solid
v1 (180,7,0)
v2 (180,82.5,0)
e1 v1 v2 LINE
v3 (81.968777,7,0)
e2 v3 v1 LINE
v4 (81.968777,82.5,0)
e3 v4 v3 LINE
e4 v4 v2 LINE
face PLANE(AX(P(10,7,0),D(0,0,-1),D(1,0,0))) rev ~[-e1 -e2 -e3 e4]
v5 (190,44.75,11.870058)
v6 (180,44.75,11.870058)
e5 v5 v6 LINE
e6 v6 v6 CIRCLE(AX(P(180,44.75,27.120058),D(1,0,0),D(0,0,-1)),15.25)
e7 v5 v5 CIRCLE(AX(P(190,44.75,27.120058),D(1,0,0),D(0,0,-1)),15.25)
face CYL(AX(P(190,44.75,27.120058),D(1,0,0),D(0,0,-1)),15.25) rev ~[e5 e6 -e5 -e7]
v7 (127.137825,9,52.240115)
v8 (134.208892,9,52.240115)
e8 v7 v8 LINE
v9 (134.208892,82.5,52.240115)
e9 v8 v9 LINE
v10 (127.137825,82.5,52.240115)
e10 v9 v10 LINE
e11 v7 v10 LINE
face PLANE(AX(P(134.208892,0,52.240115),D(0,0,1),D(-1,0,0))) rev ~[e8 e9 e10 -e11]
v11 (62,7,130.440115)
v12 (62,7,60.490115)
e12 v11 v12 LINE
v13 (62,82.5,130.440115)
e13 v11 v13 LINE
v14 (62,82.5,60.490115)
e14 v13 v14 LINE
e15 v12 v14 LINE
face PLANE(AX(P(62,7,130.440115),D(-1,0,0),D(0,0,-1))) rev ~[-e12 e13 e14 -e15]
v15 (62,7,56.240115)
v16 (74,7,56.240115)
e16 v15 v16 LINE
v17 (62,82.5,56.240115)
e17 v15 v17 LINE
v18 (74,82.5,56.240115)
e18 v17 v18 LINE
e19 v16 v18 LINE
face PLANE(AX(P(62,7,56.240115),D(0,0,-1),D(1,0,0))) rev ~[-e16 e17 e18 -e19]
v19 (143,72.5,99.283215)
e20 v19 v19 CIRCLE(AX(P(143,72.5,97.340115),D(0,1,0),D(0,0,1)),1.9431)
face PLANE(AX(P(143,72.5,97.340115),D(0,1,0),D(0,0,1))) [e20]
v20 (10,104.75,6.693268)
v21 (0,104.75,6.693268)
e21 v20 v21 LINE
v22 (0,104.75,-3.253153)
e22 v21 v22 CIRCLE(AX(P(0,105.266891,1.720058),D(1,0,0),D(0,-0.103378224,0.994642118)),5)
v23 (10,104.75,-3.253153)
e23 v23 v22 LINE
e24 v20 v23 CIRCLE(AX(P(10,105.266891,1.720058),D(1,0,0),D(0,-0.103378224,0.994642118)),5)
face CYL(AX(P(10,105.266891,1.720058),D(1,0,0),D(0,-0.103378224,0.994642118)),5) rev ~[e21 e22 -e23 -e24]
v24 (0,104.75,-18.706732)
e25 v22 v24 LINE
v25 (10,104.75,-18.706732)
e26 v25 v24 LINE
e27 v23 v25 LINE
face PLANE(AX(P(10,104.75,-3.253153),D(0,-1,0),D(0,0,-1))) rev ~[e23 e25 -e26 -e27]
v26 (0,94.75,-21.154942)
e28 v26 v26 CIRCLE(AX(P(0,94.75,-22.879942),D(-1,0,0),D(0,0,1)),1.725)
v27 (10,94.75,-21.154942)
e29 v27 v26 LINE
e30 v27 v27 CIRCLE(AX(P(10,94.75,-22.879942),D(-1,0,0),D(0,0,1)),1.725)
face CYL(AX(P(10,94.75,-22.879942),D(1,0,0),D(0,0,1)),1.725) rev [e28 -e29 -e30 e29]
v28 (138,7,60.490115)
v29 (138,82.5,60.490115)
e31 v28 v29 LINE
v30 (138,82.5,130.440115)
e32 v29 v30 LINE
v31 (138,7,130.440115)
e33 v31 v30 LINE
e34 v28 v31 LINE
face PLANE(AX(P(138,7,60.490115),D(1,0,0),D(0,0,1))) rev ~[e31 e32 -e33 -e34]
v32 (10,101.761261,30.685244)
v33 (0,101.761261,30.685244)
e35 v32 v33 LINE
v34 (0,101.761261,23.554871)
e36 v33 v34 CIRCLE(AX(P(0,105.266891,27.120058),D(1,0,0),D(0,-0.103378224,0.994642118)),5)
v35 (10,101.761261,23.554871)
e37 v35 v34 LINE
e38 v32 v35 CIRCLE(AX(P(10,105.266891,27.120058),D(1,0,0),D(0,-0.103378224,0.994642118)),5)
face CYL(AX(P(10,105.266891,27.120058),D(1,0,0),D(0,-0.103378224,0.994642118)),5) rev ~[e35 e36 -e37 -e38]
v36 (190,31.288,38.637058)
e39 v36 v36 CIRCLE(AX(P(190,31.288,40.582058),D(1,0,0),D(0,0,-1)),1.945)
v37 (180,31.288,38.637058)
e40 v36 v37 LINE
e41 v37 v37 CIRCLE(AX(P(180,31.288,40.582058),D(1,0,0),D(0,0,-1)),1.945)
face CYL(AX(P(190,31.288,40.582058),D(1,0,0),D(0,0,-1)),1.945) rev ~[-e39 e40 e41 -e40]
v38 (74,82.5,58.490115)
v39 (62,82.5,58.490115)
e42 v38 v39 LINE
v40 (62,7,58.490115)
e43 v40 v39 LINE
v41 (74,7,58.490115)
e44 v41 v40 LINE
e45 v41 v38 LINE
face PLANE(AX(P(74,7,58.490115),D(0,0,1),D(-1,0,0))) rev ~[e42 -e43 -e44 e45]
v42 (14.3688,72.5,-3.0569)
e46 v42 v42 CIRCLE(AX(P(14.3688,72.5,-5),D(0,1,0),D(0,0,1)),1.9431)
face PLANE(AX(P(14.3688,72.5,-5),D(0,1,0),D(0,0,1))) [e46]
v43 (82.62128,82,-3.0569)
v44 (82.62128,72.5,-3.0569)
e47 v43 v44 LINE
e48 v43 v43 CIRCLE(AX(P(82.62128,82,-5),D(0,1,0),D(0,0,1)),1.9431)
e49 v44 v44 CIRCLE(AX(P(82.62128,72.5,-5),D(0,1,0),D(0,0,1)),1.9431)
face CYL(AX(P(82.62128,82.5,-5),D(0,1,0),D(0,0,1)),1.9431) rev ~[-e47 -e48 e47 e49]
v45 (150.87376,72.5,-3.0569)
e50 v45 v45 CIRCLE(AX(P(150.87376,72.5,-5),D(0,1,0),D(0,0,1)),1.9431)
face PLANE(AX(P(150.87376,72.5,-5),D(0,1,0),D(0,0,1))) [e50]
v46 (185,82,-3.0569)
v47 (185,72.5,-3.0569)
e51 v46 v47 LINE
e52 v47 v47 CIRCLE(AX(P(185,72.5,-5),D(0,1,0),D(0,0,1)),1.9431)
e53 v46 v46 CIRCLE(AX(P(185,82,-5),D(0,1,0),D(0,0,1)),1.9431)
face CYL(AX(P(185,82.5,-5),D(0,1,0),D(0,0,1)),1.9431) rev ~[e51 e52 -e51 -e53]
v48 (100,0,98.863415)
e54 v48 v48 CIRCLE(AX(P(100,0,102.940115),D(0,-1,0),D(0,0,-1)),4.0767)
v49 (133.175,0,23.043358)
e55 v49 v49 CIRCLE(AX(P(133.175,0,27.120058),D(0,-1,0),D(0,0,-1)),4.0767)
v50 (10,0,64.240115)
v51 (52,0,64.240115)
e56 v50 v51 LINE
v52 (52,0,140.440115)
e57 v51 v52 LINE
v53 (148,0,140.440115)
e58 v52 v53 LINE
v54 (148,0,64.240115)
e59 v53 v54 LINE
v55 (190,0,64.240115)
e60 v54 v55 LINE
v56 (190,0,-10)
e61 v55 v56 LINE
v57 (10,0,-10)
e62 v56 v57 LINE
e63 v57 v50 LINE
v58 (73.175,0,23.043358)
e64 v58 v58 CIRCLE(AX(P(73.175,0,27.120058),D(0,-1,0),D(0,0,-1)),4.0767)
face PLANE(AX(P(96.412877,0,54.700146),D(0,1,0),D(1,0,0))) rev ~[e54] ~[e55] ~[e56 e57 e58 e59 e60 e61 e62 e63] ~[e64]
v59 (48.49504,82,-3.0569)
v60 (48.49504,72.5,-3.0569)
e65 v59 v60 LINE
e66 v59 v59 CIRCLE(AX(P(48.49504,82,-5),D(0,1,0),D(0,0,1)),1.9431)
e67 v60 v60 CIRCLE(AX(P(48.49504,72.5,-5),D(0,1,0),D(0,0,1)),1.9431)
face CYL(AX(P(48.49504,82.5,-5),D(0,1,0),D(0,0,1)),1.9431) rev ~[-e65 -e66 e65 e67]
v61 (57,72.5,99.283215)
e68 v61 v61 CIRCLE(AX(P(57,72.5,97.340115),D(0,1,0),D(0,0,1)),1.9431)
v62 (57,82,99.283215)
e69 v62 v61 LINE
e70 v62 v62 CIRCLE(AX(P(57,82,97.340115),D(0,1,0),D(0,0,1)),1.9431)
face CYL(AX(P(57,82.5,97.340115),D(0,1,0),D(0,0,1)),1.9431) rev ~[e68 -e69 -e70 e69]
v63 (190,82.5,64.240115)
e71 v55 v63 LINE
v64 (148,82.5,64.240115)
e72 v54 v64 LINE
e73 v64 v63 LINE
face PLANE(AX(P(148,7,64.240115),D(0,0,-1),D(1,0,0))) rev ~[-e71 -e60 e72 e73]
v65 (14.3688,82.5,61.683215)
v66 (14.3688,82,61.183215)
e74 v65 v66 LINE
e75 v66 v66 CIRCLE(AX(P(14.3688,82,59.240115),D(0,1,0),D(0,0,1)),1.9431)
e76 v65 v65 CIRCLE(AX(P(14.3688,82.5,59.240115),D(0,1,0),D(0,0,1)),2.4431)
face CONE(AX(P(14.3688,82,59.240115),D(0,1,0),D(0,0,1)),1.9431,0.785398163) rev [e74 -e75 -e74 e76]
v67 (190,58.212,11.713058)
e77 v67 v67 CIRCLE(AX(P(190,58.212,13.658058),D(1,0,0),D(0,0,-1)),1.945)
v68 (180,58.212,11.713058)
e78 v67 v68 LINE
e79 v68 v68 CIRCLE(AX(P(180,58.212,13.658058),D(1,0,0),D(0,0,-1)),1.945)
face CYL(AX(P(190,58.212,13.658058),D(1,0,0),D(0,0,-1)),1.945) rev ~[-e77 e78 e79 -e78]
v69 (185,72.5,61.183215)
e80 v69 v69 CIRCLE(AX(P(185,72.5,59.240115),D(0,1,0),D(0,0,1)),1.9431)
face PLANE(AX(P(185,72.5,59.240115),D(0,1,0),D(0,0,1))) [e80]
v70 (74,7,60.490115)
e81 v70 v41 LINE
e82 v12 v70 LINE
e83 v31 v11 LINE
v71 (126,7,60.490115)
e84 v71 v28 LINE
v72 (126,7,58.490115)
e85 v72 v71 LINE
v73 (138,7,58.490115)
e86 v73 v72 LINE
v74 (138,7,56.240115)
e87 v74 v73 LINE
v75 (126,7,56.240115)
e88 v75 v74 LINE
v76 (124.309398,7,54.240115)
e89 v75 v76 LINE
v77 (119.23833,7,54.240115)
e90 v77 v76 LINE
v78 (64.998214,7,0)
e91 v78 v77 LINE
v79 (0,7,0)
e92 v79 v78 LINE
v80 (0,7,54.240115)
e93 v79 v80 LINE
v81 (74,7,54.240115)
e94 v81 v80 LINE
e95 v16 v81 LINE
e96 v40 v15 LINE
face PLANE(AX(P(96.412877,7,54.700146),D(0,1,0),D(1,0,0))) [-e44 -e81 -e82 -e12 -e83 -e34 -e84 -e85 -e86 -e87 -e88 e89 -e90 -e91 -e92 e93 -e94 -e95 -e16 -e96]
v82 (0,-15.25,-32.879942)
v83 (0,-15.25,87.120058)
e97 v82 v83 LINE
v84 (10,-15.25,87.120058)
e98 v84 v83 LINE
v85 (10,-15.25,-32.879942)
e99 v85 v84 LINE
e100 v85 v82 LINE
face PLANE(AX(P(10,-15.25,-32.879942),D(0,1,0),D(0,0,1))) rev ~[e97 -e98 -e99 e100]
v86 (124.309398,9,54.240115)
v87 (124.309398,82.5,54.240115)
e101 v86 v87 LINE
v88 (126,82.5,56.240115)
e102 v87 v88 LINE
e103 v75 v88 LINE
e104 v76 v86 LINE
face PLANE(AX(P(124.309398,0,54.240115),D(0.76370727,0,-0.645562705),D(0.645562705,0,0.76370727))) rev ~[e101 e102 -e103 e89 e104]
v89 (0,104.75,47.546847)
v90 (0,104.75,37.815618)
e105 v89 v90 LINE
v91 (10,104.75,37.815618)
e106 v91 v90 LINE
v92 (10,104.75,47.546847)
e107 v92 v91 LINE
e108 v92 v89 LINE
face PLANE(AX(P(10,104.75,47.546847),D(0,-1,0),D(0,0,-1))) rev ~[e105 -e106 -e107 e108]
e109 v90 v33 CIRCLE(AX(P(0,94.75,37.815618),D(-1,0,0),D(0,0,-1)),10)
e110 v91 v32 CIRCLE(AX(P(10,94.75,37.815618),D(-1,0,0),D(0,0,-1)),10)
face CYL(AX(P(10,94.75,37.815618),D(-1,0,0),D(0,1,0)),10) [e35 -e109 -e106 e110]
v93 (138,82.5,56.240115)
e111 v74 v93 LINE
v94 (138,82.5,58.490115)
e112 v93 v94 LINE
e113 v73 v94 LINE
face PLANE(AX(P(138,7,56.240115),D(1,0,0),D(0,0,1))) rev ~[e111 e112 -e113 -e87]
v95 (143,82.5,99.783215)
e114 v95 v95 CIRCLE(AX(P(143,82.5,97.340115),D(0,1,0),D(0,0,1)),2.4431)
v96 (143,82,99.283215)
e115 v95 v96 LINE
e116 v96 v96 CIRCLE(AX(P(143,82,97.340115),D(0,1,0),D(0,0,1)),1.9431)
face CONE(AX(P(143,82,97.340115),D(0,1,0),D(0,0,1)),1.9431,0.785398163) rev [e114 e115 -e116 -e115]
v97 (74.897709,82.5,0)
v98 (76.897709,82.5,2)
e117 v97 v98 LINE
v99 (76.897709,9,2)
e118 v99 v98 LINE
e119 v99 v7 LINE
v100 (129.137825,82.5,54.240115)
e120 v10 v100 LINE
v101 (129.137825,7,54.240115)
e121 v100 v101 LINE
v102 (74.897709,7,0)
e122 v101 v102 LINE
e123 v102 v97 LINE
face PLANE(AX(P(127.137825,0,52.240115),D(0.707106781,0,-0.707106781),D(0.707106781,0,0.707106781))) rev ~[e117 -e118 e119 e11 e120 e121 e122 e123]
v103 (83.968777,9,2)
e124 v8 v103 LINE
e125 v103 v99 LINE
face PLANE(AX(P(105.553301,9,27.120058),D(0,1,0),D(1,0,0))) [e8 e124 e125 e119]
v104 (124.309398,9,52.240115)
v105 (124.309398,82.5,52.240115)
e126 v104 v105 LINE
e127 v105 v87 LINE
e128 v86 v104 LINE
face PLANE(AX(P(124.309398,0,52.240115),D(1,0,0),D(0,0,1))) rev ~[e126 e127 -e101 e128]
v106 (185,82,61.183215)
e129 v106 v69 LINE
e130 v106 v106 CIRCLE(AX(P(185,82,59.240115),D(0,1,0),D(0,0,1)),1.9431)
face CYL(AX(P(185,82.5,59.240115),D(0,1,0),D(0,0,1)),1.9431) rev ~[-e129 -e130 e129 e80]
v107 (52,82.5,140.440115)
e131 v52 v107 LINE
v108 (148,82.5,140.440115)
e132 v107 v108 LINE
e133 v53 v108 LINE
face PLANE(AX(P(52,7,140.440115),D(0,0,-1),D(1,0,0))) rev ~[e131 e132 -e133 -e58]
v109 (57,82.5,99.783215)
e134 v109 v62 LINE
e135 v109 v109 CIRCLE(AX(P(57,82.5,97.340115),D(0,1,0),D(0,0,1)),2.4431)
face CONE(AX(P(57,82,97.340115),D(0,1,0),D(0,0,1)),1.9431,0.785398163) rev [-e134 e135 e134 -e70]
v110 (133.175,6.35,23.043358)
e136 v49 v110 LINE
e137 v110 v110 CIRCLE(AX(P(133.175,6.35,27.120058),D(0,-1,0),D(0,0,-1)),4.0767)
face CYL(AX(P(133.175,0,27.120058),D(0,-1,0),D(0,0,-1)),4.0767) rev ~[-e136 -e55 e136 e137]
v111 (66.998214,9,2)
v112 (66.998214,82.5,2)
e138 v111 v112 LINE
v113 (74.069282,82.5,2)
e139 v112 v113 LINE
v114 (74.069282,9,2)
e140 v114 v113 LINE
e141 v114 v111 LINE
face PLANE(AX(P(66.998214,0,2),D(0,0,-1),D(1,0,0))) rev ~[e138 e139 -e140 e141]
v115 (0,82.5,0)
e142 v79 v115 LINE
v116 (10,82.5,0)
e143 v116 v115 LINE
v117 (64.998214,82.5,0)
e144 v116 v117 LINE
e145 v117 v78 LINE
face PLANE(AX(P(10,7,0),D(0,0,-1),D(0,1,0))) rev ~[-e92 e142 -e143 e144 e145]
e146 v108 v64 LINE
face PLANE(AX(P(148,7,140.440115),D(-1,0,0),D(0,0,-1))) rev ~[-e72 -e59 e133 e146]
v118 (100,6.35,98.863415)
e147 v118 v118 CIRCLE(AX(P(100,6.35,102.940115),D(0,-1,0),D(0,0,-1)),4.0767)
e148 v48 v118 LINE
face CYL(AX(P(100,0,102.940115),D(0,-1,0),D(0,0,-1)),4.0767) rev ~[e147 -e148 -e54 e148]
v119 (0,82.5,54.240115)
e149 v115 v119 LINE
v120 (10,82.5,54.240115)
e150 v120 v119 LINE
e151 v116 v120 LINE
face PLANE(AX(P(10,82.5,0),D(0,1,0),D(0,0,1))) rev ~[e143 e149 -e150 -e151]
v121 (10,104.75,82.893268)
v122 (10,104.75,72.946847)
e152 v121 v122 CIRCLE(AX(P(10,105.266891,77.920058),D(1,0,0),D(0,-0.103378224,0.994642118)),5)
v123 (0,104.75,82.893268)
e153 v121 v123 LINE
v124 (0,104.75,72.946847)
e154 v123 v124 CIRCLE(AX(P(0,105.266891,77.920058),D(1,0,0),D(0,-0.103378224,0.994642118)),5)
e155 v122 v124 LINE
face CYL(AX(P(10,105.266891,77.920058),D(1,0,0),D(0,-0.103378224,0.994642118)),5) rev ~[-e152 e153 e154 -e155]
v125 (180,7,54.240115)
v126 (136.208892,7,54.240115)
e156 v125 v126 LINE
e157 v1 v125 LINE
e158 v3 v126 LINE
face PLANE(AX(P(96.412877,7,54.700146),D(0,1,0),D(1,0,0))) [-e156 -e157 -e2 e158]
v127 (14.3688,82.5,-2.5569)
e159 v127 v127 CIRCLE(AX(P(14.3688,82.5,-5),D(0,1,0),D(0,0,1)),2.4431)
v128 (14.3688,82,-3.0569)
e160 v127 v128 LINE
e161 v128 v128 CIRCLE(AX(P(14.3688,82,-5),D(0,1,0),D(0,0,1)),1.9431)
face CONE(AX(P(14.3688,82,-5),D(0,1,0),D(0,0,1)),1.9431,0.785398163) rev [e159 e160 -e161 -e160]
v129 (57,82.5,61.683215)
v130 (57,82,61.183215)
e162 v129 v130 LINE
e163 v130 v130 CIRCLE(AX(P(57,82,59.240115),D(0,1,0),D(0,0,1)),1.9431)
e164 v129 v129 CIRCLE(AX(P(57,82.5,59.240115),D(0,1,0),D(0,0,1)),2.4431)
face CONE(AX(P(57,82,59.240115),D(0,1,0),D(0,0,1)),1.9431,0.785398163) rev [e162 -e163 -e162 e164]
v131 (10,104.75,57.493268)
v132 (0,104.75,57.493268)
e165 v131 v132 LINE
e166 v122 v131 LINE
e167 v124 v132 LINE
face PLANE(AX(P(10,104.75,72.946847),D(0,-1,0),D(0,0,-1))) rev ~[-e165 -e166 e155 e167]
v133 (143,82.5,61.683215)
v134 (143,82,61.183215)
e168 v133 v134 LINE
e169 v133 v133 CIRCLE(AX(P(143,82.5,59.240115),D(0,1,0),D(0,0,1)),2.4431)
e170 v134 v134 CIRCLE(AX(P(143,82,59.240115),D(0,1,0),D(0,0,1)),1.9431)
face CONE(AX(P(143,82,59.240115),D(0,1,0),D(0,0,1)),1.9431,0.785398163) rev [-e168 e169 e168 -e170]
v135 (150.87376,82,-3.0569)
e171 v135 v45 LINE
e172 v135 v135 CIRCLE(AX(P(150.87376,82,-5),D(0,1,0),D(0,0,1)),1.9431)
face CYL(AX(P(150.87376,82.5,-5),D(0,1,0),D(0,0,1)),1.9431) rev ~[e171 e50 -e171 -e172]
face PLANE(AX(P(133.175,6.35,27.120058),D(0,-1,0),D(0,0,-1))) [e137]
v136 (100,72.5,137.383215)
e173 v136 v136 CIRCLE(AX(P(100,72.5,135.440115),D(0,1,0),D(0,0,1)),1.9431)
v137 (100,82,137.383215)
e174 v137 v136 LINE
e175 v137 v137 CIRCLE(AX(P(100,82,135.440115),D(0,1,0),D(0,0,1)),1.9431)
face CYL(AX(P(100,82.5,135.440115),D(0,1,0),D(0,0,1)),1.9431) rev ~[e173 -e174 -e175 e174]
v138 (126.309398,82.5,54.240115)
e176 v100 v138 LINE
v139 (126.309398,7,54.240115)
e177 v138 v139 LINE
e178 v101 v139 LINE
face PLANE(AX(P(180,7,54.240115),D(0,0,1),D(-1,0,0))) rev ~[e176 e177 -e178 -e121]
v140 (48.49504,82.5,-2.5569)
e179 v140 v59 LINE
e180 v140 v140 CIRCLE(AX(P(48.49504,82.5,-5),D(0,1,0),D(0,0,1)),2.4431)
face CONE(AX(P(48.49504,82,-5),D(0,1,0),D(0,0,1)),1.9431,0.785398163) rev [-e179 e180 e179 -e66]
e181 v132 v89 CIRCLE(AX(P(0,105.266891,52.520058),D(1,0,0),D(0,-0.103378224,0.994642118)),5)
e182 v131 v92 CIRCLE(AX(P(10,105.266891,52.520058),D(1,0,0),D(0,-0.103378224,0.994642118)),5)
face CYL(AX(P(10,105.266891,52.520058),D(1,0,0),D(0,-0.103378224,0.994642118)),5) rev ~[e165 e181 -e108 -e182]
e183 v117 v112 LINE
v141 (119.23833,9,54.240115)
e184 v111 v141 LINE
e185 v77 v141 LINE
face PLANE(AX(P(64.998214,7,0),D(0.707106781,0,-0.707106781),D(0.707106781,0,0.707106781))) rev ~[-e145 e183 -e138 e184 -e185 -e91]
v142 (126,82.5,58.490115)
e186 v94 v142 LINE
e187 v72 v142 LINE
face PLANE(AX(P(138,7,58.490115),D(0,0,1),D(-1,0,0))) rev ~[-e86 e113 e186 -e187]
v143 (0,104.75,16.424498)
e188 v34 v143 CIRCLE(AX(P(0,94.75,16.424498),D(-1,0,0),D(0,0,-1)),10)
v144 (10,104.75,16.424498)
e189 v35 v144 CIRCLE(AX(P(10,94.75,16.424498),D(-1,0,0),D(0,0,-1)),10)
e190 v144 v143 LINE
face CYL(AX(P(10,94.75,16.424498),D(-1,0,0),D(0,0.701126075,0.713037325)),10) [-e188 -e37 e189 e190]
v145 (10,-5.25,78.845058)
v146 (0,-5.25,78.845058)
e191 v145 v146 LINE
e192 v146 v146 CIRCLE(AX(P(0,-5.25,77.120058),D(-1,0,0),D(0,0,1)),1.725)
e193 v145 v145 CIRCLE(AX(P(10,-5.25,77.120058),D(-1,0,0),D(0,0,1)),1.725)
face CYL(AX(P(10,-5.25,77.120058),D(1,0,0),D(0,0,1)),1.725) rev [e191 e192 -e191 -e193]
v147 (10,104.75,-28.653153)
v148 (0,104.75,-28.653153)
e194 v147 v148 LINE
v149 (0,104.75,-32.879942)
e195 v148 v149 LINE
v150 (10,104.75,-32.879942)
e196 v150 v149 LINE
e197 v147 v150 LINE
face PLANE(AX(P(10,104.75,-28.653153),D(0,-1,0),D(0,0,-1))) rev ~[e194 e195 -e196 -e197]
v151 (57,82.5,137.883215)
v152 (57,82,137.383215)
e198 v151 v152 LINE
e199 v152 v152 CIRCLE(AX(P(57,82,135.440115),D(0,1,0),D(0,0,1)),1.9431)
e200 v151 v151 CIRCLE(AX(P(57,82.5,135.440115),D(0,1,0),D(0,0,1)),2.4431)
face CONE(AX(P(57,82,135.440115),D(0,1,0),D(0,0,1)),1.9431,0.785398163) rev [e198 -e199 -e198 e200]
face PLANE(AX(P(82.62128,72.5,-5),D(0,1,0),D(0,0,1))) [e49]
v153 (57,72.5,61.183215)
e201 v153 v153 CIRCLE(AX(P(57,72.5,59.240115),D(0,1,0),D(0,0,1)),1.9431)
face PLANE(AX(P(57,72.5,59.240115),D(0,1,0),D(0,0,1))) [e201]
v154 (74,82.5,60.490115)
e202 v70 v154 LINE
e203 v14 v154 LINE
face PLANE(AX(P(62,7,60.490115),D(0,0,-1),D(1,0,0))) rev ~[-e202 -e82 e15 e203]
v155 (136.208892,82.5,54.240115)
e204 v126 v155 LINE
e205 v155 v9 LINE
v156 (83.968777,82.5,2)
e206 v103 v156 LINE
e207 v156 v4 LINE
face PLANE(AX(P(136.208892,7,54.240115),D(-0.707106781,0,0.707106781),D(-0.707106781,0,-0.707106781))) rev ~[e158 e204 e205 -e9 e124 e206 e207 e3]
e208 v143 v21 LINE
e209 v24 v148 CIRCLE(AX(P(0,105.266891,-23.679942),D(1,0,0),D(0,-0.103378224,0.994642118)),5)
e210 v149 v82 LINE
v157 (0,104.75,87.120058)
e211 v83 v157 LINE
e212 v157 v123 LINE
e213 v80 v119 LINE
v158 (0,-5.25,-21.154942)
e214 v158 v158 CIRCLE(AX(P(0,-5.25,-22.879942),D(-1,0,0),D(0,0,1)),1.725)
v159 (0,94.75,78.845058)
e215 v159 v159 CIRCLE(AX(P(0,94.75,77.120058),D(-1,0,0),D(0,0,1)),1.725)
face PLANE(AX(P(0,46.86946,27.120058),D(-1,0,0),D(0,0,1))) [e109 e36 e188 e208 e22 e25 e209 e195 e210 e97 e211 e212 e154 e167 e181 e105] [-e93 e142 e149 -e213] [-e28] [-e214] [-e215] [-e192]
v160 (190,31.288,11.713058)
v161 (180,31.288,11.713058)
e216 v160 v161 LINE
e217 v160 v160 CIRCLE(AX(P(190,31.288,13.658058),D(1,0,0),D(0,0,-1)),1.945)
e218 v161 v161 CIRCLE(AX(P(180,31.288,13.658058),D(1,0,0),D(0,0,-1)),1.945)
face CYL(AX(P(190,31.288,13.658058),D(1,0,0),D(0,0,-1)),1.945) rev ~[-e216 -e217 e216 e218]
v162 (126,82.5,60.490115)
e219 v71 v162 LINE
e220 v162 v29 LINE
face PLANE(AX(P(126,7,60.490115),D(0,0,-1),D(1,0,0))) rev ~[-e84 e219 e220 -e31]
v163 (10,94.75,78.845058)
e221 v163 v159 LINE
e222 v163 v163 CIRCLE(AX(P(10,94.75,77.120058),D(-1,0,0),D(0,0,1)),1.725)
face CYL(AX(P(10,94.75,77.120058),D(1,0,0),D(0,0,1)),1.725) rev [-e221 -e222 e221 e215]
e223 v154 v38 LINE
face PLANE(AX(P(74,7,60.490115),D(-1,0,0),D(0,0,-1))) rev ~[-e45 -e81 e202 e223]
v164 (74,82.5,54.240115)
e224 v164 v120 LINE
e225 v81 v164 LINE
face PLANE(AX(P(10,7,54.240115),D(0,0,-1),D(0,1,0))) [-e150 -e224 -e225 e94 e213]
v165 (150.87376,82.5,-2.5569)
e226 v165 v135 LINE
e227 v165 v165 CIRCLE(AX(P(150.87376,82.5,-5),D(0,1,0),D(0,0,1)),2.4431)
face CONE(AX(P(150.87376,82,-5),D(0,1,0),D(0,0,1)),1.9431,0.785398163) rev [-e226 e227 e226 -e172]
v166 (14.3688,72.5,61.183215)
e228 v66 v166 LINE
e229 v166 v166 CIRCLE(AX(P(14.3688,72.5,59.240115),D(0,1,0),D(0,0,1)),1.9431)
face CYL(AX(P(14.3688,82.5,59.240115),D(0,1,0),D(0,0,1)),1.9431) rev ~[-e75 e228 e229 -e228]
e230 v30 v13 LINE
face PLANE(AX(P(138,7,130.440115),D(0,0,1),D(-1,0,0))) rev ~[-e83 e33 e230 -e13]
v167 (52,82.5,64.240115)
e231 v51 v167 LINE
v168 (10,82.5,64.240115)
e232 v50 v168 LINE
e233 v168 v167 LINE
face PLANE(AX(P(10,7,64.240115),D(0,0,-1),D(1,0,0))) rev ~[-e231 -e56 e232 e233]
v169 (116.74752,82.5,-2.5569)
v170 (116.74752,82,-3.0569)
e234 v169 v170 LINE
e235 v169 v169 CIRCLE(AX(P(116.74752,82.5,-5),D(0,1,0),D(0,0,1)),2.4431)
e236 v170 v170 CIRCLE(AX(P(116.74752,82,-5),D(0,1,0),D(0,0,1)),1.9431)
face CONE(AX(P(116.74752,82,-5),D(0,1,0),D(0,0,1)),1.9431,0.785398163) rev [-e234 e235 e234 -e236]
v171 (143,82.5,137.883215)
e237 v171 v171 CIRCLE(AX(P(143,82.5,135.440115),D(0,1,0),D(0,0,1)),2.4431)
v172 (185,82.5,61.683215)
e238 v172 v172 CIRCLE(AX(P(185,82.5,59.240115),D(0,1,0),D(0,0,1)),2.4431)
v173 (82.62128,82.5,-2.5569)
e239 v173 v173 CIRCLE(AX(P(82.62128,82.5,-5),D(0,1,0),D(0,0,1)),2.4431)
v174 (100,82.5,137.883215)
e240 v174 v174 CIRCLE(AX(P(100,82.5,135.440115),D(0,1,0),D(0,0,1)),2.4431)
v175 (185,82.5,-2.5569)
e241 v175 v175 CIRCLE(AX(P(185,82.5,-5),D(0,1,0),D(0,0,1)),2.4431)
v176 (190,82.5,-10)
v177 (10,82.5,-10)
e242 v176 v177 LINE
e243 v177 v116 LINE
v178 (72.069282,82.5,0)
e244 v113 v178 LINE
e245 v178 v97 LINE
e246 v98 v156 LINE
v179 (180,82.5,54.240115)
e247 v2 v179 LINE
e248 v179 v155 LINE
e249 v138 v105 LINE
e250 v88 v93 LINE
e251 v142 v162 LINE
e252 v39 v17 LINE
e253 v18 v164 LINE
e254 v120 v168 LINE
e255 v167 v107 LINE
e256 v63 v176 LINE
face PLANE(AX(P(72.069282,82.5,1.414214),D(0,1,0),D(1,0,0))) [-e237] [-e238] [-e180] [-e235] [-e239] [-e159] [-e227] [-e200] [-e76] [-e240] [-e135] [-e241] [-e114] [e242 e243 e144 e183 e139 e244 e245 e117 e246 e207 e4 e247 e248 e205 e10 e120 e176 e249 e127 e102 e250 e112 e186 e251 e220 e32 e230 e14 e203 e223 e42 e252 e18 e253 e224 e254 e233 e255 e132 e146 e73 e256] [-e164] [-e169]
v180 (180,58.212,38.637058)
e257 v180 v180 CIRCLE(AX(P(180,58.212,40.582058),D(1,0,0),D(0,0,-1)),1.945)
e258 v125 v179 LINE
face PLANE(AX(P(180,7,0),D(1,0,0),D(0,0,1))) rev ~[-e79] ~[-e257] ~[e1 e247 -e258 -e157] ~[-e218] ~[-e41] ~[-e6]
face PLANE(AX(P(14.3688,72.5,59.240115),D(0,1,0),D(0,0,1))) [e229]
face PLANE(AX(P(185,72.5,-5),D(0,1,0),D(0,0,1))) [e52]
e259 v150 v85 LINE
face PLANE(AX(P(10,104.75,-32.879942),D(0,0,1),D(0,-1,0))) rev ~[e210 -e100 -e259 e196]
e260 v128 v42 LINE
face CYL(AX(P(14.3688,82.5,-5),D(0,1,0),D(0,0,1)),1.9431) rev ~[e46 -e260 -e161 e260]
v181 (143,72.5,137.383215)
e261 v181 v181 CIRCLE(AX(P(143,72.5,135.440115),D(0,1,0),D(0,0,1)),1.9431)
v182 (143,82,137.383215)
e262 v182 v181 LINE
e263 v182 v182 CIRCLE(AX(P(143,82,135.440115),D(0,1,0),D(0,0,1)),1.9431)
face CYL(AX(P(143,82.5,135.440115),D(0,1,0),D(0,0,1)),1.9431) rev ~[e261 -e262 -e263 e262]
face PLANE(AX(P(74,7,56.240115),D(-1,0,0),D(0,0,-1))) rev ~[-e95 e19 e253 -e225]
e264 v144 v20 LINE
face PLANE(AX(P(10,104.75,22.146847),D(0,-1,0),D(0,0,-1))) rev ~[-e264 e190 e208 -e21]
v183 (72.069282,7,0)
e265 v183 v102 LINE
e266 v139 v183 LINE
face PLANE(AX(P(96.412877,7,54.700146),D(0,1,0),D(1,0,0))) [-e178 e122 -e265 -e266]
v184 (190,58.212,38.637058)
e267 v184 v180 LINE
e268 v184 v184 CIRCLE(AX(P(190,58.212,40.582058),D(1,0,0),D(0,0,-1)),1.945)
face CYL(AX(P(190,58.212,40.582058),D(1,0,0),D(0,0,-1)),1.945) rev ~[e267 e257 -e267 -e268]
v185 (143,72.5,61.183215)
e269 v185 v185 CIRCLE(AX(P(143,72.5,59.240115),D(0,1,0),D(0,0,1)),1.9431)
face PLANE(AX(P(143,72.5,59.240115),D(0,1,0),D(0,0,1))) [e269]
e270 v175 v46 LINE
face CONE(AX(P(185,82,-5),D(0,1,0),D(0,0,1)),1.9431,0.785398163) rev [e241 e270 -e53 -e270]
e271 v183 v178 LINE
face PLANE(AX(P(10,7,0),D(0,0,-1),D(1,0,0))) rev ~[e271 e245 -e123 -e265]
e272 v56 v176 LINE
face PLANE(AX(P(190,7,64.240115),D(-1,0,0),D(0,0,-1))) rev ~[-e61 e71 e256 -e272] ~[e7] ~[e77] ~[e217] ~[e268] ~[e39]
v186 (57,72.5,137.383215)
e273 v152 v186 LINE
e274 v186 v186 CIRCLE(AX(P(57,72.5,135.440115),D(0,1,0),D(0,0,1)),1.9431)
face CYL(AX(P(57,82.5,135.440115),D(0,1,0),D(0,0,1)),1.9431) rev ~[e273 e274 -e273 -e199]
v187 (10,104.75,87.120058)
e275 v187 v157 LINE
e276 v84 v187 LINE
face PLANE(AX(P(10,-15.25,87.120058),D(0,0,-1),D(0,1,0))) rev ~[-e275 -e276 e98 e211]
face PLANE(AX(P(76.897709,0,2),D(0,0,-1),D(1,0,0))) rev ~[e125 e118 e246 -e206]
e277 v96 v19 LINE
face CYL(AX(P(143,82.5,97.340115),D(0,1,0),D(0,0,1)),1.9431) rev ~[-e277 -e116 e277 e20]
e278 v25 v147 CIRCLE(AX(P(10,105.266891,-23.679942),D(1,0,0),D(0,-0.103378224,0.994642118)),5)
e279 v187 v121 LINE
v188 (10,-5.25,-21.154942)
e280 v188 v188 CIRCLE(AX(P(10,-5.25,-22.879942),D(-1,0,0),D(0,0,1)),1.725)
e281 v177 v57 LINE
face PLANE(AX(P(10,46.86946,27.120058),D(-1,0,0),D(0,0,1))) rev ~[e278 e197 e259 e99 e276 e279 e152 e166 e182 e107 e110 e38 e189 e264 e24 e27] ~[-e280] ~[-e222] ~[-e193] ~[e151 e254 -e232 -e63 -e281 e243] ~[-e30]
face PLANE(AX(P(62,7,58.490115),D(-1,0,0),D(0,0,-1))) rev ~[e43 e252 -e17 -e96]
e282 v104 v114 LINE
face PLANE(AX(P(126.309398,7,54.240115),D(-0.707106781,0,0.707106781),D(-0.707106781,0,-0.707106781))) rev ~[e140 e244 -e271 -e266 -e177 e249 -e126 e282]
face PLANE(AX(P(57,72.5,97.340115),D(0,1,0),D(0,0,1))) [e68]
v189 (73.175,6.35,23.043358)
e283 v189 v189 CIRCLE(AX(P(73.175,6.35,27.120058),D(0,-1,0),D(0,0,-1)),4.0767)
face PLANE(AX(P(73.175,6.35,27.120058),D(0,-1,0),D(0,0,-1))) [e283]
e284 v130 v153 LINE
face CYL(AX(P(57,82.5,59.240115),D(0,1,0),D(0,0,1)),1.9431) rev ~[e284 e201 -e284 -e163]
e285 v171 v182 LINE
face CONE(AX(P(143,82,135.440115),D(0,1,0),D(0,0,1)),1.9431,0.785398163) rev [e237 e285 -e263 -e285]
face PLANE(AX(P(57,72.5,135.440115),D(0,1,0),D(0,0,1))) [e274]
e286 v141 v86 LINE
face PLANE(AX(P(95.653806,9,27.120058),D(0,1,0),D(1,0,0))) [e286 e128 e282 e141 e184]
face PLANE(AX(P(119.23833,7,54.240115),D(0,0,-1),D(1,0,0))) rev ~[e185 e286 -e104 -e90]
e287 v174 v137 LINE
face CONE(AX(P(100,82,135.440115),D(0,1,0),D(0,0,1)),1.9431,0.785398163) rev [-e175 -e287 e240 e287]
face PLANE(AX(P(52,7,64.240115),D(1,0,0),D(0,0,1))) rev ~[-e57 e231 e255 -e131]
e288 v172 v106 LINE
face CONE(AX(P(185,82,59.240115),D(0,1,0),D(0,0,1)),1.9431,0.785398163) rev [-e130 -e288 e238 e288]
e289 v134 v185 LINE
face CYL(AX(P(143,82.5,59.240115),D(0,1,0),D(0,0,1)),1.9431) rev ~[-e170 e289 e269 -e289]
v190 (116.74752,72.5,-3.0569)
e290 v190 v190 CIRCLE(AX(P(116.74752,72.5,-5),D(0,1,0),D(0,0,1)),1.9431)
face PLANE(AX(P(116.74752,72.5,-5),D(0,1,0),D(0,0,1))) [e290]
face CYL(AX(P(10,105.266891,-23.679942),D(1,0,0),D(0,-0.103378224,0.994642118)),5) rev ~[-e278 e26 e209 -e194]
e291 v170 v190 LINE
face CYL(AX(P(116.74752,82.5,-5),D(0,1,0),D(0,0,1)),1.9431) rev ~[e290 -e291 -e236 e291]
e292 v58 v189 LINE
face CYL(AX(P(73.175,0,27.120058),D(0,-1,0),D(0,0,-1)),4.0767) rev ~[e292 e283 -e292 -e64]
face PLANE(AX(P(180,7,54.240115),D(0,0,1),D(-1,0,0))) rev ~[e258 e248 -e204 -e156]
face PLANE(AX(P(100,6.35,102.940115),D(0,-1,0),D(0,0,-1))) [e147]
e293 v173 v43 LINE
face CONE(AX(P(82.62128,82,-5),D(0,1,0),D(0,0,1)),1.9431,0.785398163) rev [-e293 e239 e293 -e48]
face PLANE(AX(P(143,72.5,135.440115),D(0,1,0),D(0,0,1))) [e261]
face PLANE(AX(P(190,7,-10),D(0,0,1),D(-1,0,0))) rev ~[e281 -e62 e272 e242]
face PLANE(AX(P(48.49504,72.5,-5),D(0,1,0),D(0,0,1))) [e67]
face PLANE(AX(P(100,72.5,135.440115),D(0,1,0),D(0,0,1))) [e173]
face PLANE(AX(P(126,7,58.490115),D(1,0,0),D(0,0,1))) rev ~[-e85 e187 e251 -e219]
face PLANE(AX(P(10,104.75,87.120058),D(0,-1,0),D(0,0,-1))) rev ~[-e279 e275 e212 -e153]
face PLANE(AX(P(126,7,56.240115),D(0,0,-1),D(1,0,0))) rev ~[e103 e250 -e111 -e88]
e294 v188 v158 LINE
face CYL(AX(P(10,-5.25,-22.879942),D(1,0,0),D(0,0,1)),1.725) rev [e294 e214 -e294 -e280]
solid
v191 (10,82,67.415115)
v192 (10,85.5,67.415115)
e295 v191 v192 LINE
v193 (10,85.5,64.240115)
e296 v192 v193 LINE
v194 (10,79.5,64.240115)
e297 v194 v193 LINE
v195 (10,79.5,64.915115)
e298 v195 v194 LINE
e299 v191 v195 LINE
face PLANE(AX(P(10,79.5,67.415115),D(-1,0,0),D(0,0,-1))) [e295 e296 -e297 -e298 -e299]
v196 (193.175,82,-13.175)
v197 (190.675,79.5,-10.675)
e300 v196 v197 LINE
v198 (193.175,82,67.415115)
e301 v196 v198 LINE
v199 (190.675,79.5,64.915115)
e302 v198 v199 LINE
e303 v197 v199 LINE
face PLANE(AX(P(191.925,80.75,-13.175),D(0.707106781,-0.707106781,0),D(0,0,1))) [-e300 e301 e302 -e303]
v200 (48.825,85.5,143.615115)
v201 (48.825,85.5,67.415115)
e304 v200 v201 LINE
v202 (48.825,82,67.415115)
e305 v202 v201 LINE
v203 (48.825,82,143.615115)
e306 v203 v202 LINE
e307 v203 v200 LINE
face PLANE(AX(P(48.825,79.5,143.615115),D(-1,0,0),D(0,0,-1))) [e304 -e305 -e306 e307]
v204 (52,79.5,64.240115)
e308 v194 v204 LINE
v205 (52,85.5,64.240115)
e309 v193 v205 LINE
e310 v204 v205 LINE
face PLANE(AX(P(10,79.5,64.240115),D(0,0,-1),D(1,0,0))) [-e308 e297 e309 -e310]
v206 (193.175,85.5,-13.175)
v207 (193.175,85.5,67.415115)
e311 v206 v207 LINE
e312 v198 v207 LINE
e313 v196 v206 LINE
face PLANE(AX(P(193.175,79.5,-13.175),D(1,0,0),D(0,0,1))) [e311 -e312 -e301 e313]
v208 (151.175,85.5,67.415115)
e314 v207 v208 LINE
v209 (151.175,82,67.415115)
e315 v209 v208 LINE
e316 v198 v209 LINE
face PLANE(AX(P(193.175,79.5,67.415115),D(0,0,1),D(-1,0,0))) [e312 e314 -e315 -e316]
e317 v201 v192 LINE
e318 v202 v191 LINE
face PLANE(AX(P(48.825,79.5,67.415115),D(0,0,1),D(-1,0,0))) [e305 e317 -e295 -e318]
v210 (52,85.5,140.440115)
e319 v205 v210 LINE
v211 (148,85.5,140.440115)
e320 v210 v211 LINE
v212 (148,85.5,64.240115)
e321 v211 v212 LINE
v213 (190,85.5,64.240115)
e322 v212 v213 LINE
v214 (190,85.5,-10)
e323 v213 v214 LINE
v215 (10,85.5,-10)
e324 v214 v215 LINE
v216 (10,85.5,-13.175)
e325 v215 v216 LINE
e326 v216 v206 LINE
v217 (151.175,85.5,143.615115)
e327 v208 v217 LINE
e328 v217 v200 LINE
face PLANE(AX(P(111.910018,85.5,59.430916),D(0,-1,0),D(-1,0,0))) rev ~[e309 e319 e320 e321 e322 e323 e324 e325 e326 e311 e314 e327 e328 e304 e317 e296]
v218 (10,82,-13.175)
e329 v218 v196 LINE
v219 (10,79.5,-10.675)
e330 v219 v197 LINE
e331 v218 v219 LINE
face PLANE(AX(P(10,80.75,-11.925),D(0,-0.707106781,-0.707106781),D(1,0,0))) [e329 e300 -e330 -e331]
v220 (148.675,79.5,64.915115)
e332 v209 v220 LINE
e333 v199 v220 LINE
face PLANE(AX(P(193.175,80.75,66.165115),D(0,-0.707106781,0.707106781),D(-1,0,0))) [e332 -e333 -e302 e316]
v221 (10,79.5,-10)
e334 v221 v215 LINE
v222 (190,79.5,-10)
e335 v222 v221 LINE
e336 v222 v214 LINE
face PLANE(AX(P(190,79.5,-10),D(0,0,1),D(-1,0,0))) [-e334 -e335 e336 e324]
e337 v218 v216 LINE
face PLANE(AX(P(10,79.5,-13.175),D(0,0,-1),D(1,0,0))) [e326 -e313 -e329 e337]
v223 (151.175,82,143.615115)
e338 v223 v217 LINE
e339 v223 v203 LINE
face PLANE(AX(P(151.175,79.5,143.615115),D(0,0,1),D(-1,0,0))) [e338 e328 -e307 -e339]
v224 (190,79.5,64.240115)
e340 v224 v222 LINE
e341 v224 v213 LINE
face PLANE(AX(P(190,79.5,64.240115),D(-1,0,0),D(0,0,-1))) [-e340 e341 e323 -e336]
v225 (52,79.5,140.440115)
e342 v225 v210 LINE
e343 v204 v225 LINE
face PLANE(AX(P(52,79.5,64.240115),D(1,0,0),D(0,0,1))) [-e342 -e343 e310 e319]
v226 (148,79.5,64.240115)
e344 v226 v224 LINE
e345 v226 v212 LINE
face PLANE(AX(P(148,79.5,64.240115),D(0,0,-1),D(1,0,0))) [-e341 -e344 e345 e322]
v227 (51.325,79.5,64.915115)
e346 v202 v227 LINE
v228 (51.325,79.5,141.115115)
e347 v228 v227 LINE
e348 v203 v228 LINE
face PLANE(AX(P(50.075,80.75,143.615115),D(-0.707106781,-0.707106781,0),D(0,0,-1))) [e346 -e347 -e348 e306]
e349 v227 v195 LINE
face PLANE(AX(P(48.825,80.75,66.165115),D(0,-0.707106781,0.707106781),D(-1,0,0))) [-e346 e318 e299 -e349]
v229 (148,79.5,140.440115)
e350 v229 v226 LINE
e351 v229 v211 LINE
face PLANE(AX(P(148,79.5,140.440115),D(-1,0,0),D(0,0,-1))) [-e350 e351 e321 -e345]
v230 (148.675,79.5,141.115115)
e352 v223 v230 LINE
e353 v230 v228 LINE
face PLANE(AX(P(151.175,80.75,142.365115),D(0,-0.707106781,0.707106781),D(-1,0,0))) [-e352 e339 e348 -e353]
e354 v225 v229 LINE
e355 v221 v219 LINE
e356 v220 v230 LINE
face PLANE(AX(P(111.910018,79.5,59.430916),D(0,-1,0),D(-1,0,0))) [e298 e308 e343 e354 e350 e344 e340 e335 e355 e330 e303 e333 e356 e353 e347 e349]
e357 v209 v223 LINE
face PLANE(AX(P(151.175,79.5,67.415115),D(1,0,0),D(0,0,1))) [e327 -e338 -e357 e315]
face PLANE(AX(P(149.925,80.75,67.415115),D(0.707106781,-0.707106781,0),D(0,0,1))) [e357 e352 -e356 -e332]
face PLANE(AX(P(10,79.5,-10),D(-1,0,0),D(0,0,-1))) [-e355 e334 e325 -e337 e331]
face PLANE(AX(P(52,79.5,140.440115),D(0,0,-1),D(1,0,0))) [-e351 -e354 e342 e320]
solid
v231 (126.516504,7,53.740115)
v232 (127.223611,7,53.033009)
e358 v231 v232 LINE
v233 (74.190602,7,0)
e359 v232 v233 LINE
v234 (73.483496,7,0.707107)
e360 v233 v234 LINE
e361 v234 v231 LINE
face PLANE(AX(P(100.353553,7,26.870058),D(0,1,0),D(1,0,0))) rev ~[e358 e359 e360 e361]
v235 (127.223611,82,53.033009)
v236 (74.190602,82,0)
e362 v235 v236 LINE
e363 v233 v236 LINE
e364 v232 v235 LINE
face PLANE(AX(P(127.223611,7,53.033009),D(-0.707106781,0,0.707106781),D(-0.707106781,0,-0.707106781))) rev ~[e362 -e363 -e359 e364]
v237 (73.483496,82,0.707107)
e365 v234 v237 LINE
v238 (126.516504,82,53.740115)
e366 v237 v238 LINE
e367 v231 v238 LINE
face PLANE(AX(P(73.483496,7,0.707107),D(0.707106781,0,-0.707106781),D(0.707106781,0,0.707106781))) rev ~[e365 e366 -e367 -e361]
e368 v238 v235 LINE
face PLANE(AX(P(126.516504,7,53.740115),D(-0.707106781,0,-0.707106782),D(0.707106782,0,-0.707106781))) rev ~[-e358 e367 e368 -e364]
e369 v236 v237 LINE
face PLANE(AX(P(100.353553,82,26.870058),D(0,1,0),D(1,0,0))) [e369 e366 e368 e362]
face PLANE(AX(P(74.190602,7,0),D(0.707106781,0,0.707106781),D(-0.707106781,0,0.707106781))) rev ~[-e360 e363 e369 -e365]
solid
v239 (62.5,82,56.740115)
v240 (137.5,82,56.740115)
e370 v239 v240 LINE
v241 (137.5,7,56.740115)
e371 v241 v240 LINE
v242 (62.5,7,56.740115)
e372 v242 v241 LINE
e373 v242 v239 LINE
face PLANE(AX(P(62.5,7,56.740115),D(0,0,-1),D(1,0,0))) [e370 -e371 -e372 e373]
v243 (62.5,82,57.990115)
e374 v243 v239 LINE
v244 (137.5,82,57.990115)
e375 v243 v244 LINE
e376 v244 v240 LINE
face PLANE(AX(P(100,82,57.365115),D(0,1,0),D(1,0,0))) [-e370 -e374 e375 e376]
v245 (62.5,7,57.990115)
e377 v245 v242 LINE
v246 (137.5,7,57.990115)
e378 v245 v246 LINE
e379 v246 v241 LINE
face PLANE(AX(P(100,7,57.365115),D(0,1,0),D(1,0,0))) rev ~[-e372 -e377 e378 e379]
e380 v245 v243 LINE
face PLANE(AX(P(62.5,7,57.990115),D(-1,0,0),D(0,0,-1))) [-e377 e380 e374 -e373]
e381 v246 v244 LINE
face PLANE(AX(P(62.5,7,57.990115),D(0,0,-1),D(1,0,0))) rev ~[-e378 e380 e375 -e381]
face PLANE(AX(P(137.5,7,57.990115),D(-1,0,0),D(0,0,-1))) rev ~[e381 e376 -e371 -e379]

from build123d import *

# Parameters (mm, degrees)
FLOOR_2_DEPTH                         = 7
WALLS_START                           = 7
WALLS_DEPTH                           = 75.5
BEAM_START                            = 7
BEAM_SPLITTER_SUPPORTS_DEPTH          = 2
BEAM_SPLITTER_SUPPORTS_2_DEPTH        = 2
BEAM_SPLITTER_VERTICAL_SUPPORTS_DEPTH = 82.5
SM1_FLANGE_SKETCH_R                   = 15.25
SM1_FLANGE_SKETCH_R_2                 = 1.945
SM1_FLANGE_CUTOUT_DEPTH               = 10
BS_START                              = 7
BS_DIFFUSER_EXAMPLE_SKETCH_W          = 75
BS_DIFFUSER_EXAMPLE_SKETCH_H          = 1.25
BS_DIFFUSER_EXAMPLE_PLANES_DEPTH      = 75
BS_DIFFUSER_EXAMPLE_PLANES_2_DEPTH    = 75
CRYOSTAT_FLANGE_SKETCH_R              = 1.725
CRYOSTAT_FLANGE_SKETCH_W              = 54.24011537
CRYOSTAT_FLANGE_SKETCH_H              = 75.5
CRYSTAT_FLANGE_EXTRUSION_DEPTH        = 10
THREADED_INSERT_SKETCH_R              = 1.9431
CUT_EXTRUDE2_DEPTH                    = 10
CHAMFER1_SIZE                         = 0.5
BOSS_EXTRUDE12_DEPTH                  = 3
BOSS_EXTRUDE12_DEPTH_BACK             = 3
CHAMFER3_SIZE                         = 2.5
SKETCH8_R                             = 4.0767
F_1_4_20_SUPPORT_LEG_HOLES_DEPTH      = 6.35
FILLET1_R                             = 10


with BuildPart() as part:
    # Outline Sketch → Floor 2 (new body)
    with BuildSketch(Plane(origin=(0, 0, 0), x_dir=(1, 0, 0), z_dir=(0, 1, 0))):
        Polygon((10, -64.24011537), (52, -64.24011537), (52, -140.44011537), (148, -140.44011537), (148, -64.24011537), (190, -64.24011537), (190, 10), (10, 10), (10, 0), (0, 0), (0, -54.24011537), (10, -54.24011537), align=None)
    extrude(amount=FLOOR_2_DEPTH)

    # Sketch1<5> → Walls (add)
    with BuildSketch(Plane(origin=(0, 0, 0), x_dir=(1, 0, 0), z_dir=(0, 1, 0)).offset(WALLS_START)):
        Polygon((180, 0), (180, -54.24011537), (126, -54.24011537), (126, -56.24011537), (138, -56.24011537), (138, -58.49011537), (126, -58.49011537), (126, -60.49011537), (138, -60.49011537), (138, -130.44011537), (62, -130.44011537), (62, -60.49011537), (74, -60.49011537), (74, -58.49011537), (62, -58.49011537), (62, -56.24011537), (74, -56.24011537), (74, -54.24011537), (10, -54.24011537), (10, -64.24011537), (52, -64.24011537), (52, -140.44011537), (148, -140.44011537), (148, -64.24011537), (190, -64.24011537), (190, 10), (10, 10), (10, 0), align=None)
    extrude(amount=WALLS_DEPTH)



with BuildPart() as body_2:
    # Sketch1<6> → Beam Splitter Supports (new body)
    with BuildSketch(Plane(origin=(0, 0, 0), x_dir=(1, 0, 0), z_dir=(0, 1, 0)).offset(BEAM_START)):
        Polygon((81.96877708, 0), (74.897709268, 0), (129.137824638, -54.24011537), (136.20889245, -54.24011537), align=None)
    extrude(amount=BEAM_SPLITTER_SUPPORTS_DEPTH)


with BuildPart() as body_3:
    # Sketch1<6> → Beam Splitter Supports 2 (new body)
    with BuildSketch(Plane(origin=(0, 0, 0), x_dir=(1, 0, 0), z_dir=(0, 1, 0)).offset(BEAM_START)):
        Polygon((72.069282143, 0), (64.998214331, 0), (119.238329701, -54.24011537), (126.309397513, -54.24011537), align=None)
    extrude(amount=BEAM_SPLITTER_SUPPORTS_2_DEPTH)


with BuildPart() as part_1:
    add(part.part)

    add(body_2.part)  # Beam Splitter Vertical Supports merges body 2

    add(body_3.part)  # Beam Splitter Vertical Supports merges body 3
    # Outline Sketch<10> → Beam Splitter Vertical Supports (add)
    with BuildSketch(Plane(origin=(0, 0, 0), x_dir=(1, 0, 0), z_dir=(0, 1, 0))):
        Polygon((74.069282143, -2), (72.069282143, 0), (70.069282143, -2), align=None)
        Polygon((70.069282143, -2), (72.069282143, 0), (68.533748237, 0), (68.533748237, -2), align=None)
        Polygon((68.533748237, -2), (68.533748237, 0), (64.998214331, 0), (66.998214331, -2), align=None)
        Polygon((76.897709268, -2), (79.96877708, -2), (81.96877708, 0), (74.897709268, 0), align=None)
        Polygon((81.96877708, 0), (79.96877708, -2), (83.96877708, -2), align=None)
        Polygon((131.137824638, -52.24011537), (127.137824638, -52.24011537), (127.577164466, -52.679455198), (129.137824638, -54.24011537), align=None)
        Polygon((134.20889245, -52.24011537), (131.137824638, -52.24011537), (129.137824638, -54.24011537), (136.20889245, -54.24011537), align=None)
        Polygon((126, -54.24011537), (126.309397513, -54.24011537), (124.309397513, -52.24011537), (124.309397513, -54.24011537), align=None)
        Polygon((126, -56.24011537), (126, -54.24011537), (124.309397513, -54.24011537), align=None)
    extrude(amount=BEAM_SPLITTER_VERTICAL_SUPPORTS_DEPTH)

    # SM1 Flange Sketch → SM1 Flange Cutout (cut)
    with BuildSketch(Plane(origin=(190, 0, 0), x_dir=(0, 0, -1), z_dir=(1, 0, 0))):
        with Locations((-27.120057685, 44.75)):
            Circle(SM1_FLANGE_SKETCH_R)
        with Locations((-40.582057685, 58.212)):
            Circle(SM1_FLANGE_SKETCH_R_2)
        with Locations((-13.658057685, 58.212)):
            Circle(SM1_FLANGE_SKETCH_R_2)
        with Locations((-13.658057685, 31.288)):
            Circle(SM1_FLANGE_SKETCH_R_2)
        with Locations((-40.582057685, 31.288)):
            Circle(SM1_FLANGE_SKETCH_R_2)
    extrude(amount=-SM1_FLANGE_CUTOUT_DEPTH, mode=Mode.SUBTRACT)

    # Cryostat Flange Sketch → Crystat Flange Extrusion (add)
    with BuildSketch(Plane.ZY.offset(-10)):
        with BuildLine():
            Line((-28.653152905, 104.75), (-32.879942315, 104.75))
            Line((-32.879942315, 104.75), (-32.879942315, -15.25))
            Line((-32.879942315, -15.25), (87.120057685, -15.25))
            Line((87.120057685, -15.25), (87.120057685, 104.75))
            Line((87.120057685, 104.75), (82.893268275, 104.75))
            ThreePointArc((82.893268275, 104.75), (77.920057685, 100.26689112), (72.946847095, 104.75))
            Line((72.946847095, 104.75), (57.493268275, 104.75))
            ThreePointArc((57.493268275, 104.75), (52.520057685, 100.26689112), (47.546847095, 104.75))
            Line((47.546847095, 104.75), (32.093268275, 104.75))
            ThreePointArc((32.093268275, 104.75), (27.120057685, 100.26689112), (22.146847095, 104.75))
            Line((22.146847095, 104.75), (6.693268275, 104.75))
            ThreePointArc((6.693268275, 104.75), (1.720057685, 100.26689112), (-3.253152905, 104.75))
            Line((-3.253152905, 104.75), (-18.706731725, 104.75))
            ThreePointArc((-18.706731725, 104.75), (-23.679942315, 100.26689112), (-28.653152905, 104.75))
        make_face()
        with Locations((-22.879942315, -5.25)):
            Circle(CRYOSTAT_FLANGE_SKETCH_R, mode=Mode.SUBTRACT)
        with Locations((77.120057685, -5.25)):
            Circle(CRYOSTAT_FLANGE_SKETCH_R, mode=Mode.SUBTRACT)
        with Locations((27.120057685, 44.75)):
            Rectangle(CRYOSTAT_FLANGE_SKETCH_W, CRYOSTAT_FLANGE_SKETCH_H, mode=Mode.SUBTRACT)
        with Locations((-22.879942315, 94.75)):
            Circle(CRYOSTAT_FLANGE_SKETCH_R, mode=Mode.SUBTRACT)
        with Locations((77.120057685, 94.75)):
            Circle(CRYOSTAT_FLANGE_SKETCH_R, mode=Mode.SUBTRACT)
    extrude(amount=CRYSTAT_FLANGE_EXTRUSION_DEPTH)

    # Threaded Insert Sketch → Cut-Extrude2 (cut)
    with BuildSketch(Plane(origin=(0, 82.5, 0), x_dir=(1, 0, 0), z_dir=(0, 1, 0))):
        with Locations(Location((14.3688, 5, 0), (0, 0, 270))):
            Circle(THREADED_INSERT_SKETCH_R)
        with Locations(Location((48.49504, 5, 0), (0, 0, 270))):
            Circle(THREADED_INSERT_SKETCH_R)
        with Locations(Location((82.62128, 5, 0), (0, 0, 270))):
            Circle(THREADED_INSERT_SKETCH_R)
        with Locations(Location((116.74752, 5, 0), (0, 0, 270))):
            Circle(THREADED_INSERT_SKETCH_R)
        with Locations(Location((185, 5, 0), (0, 0, 270))):
            Circle(THREADED_INSERT_SKETCH_R)
        with Locations(Location((150.87376, 5, 0), (0, 0, 270))):
            Circle(THREADED_INSERT_SKETCH_R)
        with Locations(Location((185, -59.24011537, 0), (0, 0, 270))):
            Circle(THREADED_INSERT_SKETCH_R)
        with Locations(Location((143, -59.24011537, 0), (0, 0, 270))):
            Circle(THREADED_INSERT_SKETCH_R)
        with Locations(Location((143, -97.34011537, 0), (0, 0, 270))):
            Circle(THREADED_INSERT_SKETCH_R)
        with Locations(Location((100, -135.44011537, 0), (0, 0, 270))):
            Circle(THREADED_INSERT_SKETCH_R)
        with Locations(Location((143, -135.44011537, 0), (0, 0, 270))):
            Circle(THREADED_INSERT_SKETCH_R)
        with Locations(Location((57, -135.44011537, 0), (0, 0, 270))):
            Circle(THREADED_INSERT_SKETCH_R)
        with Locations(Location((57, -97.34011537, 0), (0, 0, 270))):
            Circle(THREADED_INSERT_SKETCH_R)
        with Locations(Location((57, -59.24011537, 0), (0, 0, 270))):
            Circle(THREADED_INSERT_SKETCH_R)
        with Locations(Location((14.3688, -59.24011537, 0), (0, 0, 270))):
            Circle(THREADED_INSERT_SKETCH_R)
    extrude(amount=-CUT_EXTRUDE2_DEPTH, mode=Mode.SUBTRACT)

    # Chamfer1
    chamfer1_edges = [part_1.edges().sort_by_distance(p)[0] for p in [
        (143, 82.5, 95.39701537),
        (143, 82.5, 57.29701537),
        (185, 82.5, 57.29701537),
        (150.87376, 82.5, -6.9431),
        (185, 82.5, -6.9431),
        (116.74752, 82.5, -6.9431),
        (82.62128, 82.5, -6.9431),
        (48.49504, 82.5, -6.9431),
        (100, 82.5, 133.49701537),
        (143, 82.5, 133.49701537),
        (57, 82.5, 133.49701537),
        (57, 82.5, 95.39701537),
        (57, 82.5, 57.29701537),
        (14.3688, 82.5, 57.29701537),
        (14.3688, 82.5, -6.9431),
    ]]
    chamfer(chamfer1_edges, length=CHAMFER1_SIZE)

    # Sketch8 → 1/4-20 Support Leg Holes (cut)
    with BuildSketch(Plane.XZ):
        with Locations(Location((133.175, 27.120057685, 0), (0, 0, 270))):
            Circle(SKETCH8_R)
        with Locations(Location((100, 102.94011537, 0), (0, 0, 270))):
            Circle(SKETCH8_R)
        with Locations(Location((73.175, 27.120057685, 0), (0, 0, 270))):
            Circle(SKETCH8_R)
    extrude(amount=-F_1_4_20_SUPPORT_LEG_HOLES_DEPTH, mode=Mode.SUBTRACT)

    # Fillet1
    fillet1_edges = [part_1.edges().sort_by_distance(p)[0] for p in [
        (5, 104.75, 32.093268275),
        (5, 104.75, 22.146847095),
    ]]
    fillet(fillet1_edges, radius=FILLET1_R)


with BuildPart() as body_2_2:
    # BS & Diffuser Example Sketch → BS & Diffuser Example Planes (new body)
    with BuildSketch(Plane(origin=(0, 0, 0), x_dir=(1, 0, 0), z_dir=(0, 1, 0)).offset(BS_START)):
        with Locations((100, -57.36511537)):
            Rectangle(BS_DIFFUSER_EXAMPLE_SKETCH_W, BS_DIFFUSER_EXAMPLE_SKETCH_H)
    extrude(amount=BS_DIFFUSER_EXAMPLE_PLANES_DEPTH)


with BuildPart() as body_3_2:
    # BS & Diffuser Example Sketch → BS _ Diffuser Example Planes 2 (new body)
    with BuildSketch(Plane(origin=(0, 0, 0), x_dir=(1, 0, 0), z_dir=(0, 1, 0)).offset(BS_START)):
        Polygon((127.223611076, -53.033008589), (74.190602487, 0), (73.483495706, -0.707106781), (126.516504294, -53.74011537), align=None)
    extrude(amount=BS_DIFFUSER_EXAMPLE_PLANES_2_DEPTH)


with BuildPart() as body_4:
    # Sketch7 → Boss-Extrude12 (new, two sides: drawn at the far end of the back side and taken through both)
    with BuildSketch(Plane(origin=(0, 82.5, 0), x_dir=(1, 0, 0), z_dir=(0, 1, 0)).offset(-BOSS_EXTRUDE12_DEPTH_BACK)):
        Polygon((10, 13.175), (193.175, 13.175), (193.175, -67.41511537), (151.175, -67.41511537), (151.175, -143.61511537), (48.825, -143.61511537), (48.825, -67.41511537), (10, -67.41511537), (10, -64.24011537), (52, -64.24011537), (52, -140.44011537), (148, -140.44011537), (148, -64.24011537), (190, -64.24011537), (190, 10), (10, 10), align=None)
    extrude(amount=BOSS_EXTRUDE12_DEPTH + BOSS_EXTRUDE12_DEPTH_BACK)

    # Chamfer3
    chamfer3_edges = [body_4.edges().sort_by_distance(p)[0] for p in [
        (29.4125, 79.5, 67.41511537),
        (48.825, 79.5, 105.51511537),
        (100, 79.5, 143.61511537),
        (151.175, 79.5, 105.51511537),
        (172.175, 79.5, 67.41511537),
        (193.175, 79.5, 27.120057685),
        (101.5875, 79.5, -13.175),
    ]]
    chamfer(chamfer3_edges, length=CHAMFER3_SIZE)


solid = Compound([part_1.part, body_2_2.part, body_3_2.part, body_4.part])
